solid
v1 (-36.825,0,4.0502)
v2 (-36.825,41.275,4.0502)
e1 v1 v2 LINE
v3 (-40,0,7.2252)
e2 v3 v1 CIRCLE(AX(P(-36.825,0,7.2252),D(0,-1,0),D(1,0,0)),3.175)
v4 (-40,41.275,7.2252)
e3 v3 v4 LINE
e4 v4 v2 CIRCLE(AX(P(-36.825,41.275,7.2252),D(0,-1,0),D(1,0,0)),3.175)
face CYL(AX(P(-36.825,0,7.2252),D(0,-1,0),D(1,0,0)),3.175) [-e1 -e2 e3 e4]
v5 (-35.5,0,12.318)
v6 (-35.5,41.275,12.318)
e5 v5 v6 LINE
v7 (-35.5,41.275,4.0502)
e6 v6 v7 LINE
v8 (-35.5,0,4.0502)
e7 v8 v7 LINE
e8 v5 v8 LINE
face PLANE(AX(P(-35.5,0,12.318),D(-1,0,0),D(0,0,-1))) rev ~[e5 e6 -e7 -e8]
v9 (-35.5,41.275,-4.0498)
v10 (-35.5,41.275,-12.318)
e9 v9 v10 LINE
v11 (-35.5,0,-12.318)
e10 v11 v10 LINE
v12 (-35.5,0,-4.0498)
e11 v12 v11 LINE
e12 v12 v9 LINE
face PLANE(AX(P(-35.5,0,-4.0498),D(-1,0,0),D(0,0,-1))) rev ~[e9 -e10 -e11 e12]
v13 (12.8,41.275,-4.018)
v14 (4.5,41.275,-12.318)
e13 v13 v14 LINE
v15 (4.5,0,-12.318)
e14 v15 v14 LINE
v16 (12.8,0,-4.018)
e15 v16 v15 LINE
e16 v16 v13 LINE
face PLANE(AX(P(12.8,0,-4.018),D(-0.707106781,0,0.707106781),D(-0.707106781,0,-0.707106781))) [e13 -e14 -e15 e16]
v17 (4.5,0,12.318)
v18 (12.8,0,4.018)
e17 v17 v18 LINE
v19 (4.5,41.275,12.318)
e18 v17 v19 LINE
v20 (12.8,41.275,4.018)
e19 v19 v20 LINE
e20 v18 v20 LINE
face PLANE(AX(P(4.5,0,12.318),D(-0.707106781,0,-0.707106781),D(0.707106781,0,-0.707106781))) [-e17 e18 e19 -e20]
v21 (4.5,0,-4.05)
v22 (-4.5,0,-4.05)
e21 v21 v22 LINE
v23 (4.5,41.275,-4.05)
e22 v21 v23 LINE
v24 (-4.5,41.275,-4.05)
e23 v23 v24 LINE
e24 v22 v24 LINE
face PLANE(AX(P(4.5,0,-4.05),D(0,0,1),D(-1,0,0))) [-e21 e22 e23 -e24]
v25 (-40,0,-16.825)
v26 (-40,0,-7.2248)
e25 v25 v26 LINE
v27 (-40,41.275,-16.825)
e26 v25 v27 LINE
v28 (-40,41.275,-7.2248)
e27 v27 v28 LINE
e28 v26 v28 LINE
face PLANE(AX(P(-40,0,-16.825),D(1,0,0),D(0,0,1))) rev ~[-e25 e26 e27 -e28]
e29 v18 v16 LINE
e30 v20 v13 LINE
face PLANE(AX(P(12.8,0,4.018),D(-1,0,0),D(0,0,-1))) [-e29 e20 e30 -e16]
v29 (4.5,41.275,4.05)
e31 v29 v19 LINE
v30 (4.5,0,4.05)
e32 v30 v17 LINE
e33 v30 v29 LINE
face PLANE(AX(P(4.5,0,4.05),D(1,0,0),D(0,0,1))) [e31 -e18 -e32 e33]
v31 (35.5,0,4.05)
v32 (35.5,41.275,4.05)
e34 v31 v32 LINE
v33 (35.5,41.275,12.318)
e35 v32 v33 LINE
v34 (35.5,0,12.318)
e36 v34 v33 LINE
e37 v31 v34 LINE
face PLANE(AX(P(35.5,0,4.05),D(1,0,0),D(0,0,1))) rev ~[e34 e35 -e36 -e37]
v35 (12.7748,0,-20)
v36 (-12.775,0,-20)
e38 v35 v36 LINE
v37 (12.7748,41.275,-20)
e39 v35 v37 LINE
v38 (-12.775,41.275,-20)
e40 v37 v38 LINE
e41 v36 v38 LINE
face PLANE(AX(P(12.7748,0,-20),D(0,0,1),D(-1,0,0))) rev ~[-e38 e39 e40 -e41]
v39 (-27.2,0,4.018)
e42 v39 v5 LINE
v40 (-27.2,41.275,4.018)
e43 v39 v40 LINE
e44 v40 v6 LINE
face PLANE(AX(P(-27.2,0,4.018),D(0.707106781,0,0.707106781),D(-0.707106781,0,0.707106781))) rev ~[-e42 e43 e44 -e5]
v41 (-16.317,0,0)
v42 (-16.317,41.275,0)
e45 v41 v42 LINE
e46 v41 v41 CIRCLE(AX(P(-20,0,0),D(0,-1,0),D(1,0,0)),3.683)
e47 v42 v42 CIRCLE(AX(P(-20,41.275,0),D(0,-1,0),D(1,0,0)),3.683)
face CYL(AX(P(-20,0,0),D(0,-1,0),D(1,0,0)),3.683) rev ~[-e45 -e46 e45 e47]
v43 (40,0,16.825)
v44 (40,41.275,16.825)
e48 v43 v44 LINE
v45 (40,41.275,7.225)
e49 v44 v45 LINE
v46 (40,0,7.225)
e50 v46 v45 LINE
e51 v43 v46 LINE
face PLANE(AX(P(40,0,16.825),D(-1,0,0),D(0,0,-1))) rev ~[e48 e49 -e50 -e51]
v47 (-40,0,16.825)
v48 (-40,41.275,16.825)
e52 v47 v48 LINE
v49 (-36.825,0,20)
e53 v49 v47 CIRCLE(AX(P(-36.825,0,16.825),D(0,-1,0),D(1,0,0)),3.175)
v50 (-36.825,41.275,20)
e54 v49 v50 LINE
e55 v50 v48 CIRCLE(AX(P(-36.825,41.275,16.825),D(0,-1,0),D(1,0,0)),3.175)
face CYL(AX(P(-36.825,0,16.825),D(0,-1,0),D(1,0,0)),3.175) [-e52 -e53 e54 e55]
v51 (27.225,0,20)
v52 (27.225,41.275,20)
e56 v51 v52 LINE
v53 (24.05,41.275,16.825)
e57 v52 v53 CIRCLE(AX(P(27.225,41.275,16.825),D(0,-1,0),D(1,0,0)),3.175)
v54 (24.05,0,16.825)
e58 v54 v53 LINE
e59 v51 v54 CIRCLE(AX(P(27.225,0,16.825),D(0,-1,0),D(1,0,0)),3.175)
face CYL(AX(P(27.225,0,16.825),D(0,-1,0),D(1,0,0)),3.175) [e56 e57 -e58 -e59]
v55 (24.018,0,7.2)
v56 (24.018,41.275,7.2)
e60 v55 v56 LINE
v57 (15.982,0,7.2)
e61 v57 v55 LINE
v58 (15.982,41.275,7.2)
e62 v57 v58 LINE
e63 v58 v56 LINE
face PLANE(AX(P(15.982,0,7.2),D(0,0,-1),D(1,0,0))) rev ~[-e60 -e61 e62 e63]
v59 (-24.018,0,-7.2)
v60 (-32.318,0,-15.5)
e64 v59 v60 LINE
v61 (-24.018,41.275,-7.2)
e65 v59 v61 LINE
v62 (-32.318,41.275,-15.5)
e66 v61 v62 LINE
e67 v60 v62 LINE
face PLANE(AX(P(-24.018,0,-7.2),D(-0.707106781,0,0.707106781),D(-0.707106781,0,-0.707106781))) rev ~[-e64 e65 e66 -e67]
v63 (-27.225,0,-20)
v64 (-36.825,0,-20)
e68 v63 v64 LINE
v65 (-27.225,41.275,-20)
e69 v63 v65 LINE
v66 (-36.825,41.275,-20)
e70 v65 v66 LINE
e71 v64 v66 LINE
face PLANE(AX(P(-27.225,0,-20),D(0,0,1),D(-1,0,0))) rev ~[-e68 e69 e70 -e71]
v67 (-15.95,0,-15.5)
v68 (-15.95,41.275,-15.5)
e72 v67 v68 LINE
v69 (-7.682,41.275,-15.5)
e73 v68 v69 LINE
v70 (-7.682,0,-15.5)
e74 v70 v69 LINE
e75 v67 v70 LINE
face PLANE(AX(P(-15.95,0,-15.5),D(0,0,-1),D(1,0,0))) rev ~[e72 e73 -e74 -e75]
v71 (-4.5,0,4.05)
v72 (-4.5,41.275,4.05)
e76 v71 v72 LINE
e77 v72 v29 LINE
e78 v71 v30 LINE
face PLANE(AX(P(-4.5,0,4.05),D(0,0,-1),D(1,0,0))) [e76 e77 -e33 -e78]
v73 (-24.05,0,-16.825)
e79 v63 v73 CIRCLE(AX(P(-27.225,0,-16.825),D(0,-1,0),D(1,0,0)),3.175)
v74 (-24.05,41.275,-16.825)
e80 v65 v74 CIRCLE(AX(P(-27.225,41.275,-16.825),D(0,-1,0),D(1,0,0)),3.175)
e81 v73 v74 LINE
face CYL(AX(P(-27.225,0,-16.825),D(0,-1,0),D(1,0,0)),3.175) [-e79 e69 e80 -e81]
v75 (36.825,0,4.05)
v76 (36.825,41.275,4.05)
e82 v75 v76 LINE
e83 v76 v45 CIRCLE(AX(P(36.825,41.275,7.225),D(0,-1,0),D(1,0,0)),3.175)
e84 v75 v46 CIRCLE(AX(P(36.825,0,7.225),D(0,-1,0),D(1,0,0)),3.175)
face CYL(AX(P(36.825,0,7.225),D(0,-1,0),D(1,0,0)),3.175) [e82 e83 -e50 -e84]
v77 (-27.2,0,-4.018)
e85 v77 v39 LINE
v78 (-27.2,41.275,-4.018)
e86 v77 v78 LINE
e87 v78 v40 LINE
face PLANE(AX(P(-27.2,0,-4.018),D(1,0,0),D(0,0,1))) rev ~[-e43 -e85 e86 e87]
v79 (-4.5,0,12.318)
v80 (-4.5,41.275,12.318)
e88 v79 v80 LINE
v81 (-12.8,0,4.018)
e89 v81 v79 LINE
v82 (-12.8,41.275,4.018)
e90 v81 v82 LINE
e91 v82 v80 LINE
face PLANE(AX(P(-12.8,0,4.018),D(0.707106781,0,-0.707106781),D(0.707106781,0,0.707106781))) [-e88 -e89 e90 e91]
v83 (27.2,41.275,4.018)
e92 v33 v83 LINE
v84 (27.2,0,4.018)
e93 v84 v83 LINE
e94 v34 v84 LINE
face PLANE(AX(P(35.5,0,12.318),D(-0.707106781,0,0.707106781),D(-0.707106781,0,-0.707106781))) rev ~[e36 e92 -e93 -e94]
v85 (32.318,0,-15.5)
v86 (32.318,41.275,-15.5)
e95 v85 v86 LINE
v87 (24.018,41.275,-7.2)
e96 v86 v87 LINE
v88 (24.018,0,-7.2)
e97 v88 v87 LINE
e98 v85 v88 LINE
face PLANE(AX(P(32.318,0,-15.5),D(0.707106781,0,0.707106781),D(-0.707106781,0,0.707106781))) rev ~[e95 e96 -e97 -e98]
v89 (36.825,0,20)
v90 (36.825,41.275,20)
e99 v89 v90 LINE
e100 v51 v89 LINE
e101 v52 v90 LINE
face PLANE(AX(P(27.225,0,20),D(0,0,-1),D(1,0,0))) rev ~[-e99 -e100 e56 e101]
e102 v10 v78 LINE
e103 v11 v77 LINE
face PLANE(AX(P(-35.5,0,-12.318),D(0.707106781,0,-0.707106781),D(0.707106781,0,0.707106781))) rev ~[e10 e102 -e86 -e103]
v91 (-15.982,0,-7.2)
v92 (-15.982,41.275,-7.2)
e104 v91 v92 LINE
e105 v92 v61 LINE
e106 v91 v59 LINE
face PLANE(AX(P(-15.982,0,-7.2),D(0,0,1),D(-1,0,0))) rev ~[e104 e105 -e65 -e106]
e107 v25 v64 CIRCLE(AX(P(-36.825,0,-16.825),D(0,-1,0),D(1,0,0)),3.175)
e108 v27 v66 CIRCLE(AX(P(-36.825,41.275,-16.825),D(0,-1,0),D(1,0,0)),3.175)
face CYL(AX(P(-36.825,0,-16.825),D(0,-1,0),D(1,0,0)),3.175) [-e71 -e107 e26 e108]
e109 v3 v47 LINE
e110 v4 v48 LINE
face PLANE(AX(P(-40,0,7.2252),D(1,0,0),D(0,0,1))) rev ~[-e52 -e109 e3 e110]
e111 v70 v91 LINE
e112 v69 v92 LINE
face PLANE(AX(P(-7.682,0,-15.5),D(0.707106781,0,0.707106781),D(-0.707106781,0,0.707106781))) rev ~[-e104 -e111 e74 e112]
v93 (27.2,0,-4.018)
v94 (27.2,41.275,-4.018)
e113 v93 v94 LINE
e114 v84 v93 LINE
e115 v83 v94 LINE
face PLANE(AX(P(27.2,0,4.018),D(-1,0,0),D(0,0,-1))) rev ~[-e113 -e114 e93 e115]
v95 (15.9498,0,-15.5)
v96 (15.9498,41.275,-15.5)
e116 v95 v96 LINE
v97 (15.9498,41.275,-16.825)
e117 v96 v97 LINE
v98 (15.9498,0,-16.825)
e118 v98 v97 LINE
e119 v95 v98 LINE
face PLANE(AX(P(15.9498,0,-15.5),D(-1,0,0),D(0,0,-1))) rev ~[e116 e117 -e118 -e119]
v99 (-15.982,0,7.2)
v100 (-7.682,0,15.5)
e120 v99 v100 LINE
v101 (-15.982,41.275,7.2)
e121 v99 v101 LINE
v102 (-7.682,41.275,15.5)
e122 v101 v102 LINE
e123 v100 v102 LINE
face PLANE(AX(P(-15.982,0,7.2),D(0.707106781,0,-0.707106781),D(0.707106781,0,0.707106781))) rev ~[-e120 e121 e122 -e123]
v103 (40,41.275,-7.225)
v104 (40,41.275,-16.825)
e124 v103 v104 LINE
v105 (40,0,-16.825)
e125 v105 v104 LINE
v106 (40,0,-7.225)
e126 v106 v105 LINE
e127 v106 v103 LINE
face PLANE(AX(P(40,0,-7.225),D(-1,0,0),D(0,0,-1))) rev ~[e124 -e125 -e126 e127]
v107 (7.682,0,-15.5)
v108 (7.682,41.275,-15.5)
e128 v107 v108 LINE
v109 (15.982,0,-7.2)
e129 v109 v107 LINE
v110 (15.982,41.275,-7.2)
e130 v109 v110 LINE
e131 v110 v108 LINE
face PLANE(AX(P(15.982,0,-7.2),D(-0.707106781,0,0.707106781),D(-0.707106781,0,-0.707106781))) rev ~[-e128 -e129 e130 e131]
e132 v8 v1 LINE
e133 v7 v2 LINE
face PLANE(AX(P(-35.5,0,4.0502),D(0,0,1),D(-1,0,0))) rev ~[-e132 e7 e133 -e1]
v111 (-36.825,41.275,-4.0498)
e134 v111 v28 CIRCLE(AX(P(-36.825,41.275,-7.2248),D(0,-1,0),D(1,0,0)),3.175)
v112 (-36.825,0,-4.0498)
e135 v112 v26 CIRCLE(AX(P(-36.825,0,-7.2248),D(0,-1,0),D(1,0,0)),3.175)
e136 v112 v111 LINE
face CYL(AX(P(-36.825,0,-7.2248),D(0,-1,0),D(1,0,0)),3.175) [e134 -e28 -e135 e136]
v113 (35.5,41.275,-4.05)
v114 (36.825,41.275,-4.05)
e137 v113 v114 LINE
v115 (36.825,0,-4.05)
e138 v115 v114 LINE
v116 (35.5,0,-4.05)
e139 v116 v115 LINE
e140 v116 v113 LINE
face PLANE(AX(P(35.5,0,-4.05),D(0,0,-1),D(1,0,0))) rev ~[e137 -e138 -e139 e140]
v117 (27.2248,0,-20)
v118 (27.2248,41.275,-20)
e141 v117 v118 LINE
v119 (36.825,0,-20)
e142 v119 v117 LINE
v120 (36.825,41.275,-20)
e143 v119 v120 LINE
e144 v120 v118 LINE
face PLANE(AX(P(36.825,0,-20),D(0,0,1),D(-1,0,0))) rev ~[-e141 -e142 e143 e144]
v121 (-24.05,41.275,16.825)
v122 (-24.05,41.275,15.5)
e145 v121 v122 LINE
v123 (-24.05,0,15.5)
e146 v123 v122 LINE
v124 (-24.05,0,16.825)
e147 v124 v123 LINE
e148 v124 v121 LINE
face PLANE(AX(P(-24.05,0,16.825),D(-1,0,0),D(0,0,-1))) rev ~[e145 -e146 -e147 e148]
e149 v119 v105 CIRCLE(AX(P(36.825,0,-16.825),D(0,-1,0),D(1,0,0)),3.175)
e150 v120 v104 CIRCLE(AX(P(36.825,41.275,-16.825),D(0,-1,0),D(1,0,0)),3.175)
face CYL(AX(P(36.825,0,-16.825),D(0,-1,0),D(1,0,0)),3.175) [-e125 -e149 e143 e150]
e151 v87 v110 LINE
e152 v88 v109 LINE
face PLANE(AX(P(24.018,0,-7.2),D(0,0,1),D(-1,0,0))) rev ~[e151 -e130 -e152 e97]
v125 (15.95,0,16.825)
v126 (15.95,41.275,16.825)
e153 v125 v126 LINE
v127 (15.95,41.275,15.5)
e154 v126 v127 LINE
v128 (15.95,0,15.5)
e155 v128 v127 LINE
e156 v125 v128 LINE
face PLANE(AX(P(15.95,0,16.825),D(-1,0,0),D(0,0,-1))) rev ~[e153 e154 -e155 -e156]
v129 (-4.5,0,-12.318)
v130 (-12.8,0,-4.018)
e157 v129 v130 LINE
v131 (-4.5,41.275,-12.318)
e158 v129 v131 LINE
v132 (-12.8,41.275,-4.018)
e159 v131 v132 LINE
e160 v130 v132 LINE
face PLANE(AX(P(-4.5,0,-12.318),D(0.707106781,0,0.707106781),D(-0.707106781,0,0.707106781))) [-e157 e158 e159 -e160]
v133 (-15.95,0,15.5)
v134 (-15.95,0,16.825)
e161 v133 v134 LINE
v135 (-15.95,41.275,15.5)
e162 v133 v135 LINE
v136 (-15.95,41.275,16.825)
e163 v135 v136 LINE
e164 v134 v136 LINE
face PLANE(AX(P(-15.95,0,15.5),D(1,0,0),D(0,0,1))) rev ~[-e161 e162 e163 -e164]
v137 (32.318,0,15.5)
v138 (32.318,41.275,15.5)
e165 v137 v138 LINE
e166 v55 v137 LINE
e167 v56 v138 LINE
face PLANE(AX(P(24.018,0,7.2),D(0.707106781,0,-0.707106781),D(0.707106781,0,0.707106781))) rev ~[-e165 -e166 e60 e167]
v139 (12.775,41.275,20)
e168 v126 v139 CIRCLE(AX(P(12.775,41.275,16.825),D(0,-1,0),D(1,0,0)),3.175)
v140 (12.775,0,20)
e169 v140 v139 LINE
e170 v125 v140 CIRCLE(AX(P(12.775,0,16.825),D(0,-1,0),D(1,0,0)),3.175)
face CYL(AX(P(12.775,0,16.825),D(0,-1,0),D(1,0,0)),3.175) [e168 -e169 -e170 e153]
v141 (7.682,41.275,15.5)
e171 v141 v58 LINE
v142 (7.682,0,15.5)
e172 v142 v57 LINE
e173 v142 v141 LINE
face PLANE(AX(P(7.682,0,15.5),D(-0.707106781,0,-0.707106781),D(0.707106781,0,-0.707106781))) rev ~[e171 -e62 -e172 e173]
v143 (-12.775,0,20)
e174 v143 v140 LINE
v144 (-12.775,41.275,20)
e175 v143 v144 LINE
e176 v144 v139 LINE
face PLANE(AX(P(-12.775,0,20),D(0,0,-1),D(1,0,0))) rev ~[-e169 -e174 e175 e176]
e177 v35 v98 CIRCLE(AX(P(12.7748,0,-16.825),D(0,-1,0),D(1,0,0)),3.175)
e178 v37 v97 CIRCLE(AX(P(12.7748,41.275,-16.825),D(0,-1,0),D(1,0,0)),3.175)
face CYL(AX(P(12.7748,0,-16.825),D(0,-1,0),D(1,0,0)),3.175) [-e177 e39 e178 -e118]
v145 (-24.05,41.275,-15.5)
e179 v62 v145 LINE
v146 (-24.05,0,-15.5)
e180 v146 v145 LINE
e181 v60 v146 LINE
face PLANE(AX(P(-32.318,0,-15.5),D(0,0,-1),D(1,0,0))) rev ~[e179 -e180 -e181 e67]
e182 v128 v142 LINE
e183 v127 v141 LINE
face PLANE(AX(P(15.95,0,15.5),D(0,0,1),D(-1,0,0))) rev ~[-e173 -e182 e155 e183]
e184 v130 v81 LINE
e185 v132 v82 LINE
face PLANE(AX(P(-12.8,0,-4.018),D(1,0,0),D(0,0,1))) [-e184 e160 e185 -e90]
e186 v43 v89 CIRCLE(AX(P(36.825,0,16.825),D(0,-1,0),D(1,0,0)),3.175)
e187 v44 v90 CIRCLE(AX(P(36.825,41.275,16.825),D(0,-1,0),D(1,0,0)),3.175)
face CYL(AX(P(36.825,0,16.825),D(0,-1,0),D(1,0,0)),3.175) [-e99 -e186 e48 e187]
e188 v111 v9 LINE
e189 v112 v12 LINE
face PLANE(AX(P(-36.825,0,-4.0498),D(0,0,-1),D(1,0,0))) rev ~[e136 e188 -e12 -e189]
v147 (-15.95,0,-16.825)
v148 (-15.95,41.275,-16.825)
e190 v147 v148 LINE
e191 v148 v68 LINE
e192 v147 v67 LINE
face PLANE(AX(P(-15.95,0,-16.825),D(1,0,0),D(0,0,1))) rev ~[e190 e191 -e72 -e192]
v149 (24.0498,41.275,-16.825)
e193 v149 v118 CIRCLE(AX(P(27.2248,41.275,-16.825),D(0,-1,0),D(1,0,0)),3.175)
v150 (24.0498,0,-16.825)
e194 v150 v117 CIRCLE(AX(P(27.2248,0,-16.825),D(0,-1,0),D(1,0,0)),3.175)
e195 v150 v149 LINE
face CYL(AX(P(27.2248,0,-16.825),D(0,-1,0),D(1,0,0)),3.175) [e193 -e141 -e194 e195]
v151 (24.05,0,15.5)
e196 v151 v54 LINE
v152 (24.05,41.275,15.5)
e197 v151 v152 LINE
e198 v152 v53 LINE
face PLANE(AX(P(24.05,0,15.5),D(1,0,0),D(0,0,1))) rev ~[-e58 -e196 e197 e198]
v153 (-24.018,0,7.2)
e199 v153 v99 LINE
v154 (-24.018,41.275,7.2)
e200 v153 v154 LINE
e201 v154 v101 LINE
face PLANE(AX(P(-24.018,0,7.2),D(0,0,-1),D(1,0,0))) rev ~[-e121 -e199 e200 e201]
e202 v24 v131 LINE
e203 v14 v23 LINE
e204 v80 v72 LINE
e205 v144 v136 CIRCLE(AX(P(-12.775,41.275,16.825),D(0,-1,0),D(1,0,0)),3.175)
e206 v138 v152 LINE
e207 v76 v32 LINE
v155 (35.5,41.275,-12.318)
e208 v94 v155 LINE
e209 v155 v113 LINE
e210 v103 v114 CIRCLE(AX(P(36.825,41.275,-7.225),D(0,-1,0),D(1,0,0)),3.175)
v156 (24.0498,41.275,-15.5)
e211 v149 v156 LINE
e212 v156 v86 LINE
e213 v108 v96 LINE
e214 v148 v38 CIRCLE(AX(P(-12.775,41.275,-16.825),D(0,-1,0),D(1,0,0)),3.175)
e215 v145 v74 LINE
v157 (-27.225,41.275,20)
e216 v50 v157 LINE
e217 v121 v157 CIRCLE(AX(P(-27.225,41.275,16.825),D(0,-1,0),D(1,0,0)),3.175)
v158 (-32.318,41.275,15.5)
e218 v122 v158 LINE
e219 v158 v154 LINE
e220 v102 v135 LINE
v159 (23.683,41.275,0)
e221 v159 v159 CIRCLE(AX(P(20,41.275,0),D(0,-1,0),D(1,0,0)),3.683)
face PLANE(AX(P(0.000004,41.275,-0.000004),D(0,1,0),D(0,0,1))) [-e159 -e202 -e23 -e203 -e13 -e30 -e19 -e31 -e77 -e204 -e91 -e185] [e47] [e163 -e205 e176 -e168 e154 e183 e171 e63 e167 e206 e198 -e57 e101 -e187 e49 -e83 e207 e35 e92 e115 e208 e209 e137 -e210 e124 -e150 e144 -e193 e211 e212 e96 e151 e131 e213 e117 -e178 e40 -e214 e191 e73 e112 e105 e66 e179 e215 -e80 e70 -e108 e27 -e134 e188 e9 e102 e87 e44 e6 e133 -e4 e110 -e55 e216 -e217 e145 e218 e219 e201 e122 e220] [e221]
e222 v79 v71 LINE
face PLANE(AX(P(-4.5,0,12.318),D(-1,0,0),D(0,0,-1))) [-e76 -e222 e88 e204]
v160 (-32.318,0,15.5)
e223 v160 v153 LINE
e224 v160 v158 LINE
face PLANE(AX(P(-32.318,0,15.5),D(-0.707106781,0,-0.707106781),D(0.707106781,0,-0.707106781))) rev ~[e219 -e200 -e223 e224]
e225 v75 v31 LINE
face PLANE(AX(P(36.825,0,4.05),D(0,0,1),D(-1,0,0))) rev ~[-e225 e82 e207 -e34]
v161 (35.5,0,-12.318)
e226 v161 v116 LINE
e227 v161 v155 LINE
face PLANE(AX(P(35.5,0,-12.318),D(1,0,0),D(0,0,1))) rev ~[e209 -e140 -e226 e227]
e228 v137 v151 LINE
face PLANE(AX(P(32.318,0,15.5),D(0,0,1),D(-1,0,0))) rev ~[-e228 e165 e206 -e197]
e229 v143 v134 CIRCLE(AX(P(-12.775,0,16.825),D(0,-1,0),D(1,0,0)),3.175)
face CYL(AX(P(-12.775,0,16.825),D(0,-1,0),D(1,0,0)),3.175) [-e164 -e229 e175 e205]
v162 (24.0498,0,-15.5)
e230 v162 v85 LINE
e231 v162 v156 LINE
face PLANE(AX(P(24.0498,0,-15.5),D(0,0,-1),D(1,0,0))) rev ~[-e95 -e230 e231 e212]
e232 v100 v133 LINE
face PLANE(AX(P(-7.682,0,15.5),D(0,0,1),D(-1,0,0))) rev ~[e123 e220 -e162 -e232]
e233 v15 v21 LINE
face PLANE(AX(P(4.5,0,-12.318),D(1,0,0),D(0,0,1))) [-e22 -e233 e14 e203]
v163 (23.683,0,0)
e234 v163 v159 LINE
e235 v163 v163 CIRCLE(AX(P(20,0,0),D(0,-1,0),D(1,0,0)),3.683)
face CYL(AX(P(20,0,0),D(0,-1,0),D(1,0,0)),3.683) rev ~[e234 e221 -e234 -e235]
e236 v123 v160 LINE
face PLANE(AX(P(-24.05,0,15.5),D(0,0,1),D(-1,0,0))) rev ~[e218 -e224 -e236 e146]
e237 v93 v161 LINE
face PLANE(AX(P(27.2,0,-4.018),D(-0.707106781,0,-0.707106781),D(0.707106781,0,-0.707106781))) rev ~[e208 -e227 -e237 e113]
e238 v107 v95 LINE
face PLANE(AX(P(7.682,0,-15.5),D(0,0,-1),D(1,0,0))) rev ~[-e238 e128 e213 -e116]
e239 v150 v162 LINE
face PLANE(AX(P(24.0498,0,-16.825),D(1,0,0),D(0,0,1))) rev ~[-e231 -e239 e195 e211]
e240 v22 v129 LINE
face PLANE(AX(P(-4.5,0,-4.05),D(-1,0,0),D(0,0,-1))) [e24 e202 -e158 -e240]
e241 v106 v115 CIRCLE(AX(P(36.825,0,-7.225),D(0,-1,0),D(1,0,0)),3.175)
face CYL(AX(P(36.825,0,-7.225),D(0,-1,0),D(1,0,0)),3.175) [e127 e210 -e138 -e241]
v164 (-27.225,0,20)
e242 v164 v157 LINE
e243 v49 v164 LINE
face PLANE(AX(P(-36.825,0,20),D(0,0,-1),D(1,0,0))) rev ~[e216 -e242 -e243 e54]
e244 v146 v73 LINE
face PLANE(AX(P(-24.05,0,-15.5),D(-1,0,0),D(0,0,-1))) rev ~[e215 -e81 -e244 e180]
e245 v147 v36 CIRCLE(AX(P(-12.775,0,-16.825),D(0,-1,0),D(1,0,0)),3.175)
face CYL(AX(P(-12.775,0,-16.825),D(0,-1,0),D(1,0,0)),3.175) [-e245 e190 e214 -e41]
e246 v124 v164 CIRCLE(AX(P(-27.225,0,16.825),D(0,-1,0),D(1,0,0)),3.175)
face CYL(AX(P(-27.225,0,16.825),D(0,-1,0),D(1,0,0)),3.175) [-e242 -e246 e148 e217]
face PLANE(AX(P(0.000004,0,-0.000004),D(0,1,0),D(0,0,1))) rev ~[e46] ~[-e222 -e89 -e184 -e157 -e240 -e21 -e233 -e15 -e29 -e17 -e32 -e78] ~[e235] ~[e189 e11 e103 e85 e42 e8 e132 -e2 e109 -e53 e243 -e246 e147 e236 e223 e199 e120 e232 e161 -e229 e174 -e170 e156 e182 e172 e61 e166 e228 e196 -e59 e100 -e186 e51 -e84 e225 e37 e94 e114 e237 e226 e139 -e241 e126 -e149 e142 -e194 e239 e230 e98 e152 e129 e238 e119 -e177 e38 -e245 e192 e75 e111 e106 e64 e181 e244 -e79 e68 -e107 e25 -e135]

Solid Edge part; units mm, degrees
sketch "Sketch1" plane through (0, 0, 0) normal (0, -1, 0) x (1, 0, 0)
  line L0 (-24.05, 16.825) -> (-24.05, 15.5)
  line L1 (-24.05, 15.5) -> (-32.318, 15.5)
  line L2 (-32.318, 15.5) -> (-24.018, 7.2)
  line L3 (-24.018, 7.2) -> (-15.982, 7.2)
  line L4 (-15.982, 7.2) -> (-7.682, 15.5)
  line L5 (-7.682, 15.5) -> (-15.95, 15.5)
  line L6 (-15.95, 15.5) -> (-15.95, 16.825)
  arc A0 (-12.775, 20) -> (-15.95, 16.825) centre (-12.775, 16.825) ccw
  line L7 (-12.775, 20) -> (12.775, 20)
  arc A1 (15.95, 16.825) -> (12.775, 20) centre (12.775, 16.825) ccw
  line L8 (15.95, 16.825) -> (15.95, 15.5)
  line L9 (15.95, 15.5) -> (7.682, 15.5)
  line L10 (7.682, 15.5) -> (15.982, 7.2)
  line L11 (15.982, 7.2) -> (24.018, 7.2)
  line L12 (24.018, 7.2) -> (32.318, 15.5)
  line L13 (32.318, 15.5) -> (24.05, 15.5)
  line L14 (24.05, 15.5) -> (24.05, 16.825)
  arc A2 (27.225, 20) -> (24.05, 16.825) centre (27.225, 16.825) ccw
  line L15 (27.225, 20) -> (36.825, 20)
  arc A3 (40, 16.825) -> (36.825, 20) centre (36.825, 16.825) ccw
  line L16 (40, 16.825) -> (40, 7.225)
  arc A4 (36.825, 4.05) -> (40, 7.225) centre (36.825, 7.225) ccw
  line L17 (36.825, 4.05) -> (35.5, 4.05)
  line L18 (35.5, 4.05) -> (35.5, 12.318)
  line L19 (35.5, 12.318) -> (27.2, 4.018)
  line L20 (27.2, 4.018) -> (27.2, -4.018)
  line L21 (27.2, -4.018) -> (35.5, -12.318)
  line L22 (35.5, -12.318) -> (35.5, -4.05)
  line L23 (35.5, -4.05) -> (36.825, -4.05)
  arc A5 (40, -7.225) -> (36.825, -4.05) centre (36.825, -7.225) ccw
  line L24 (40, -7.225) -> (40, -16.825)
  arc A6 (36.825, -20) -> (40, -16.825) centre (36.825, -16.825) ccw
  line L25 (36.825, -20) -> (27.2248, -20)
  arc A7 (24.0498, -16.825) -> (27.2248, -20) centre (27.2248, -16.825) ccw
  line L26 (24.0498, -16.825) -> (24.0498, -15.5)
  line L27 (24.0498, -15.5) -> (32.318, -15.5)
  line L28 (32.318, -15.5) -> (24.018, -7.2)
  line L29 (24.018, -7.2) -> (15.982, -7.2)
  line L30 (15.982, -7.2) -> (7.682, -15.5)
  line L31 (7.682, -15.5) -> (15.9498, -15.5)
  line L32 (15.9498, -15.5) -> (15.9498, -16.825)
  arc A8 (12.7748, -20) -> (15.9498, -16.825) centre (12.7748, -16.825) ccw
  line L33 (12.7748, -20) -> (-12.775, -20)
  arc A9 (-15.95, -16.825) -> (-12.775, -20) centre (-12.775, -16.825) ccw
  line L34 (-15.95, -16.825) -> (-15.95, -15.5)
  line L35 (-15.95, -15.5) -> (-7.682, -15.5)
  line L36 (-7.682, -15.5) -> (-15.982, -7.2)
  line L37 (-15.982, -7.2) -> (-24.018, -7.2)
  line L38 (-24.018, -7.2) -> (-32.318, -15.5)
  line L39 (-32.318, -15.5) -> (-24.05, -15.5)
  line L40 (-24.05, -15.5) -> (-24.05, -16.825)
  arc A10 (-27.225, -20) -> (-24.05, -16.825) centre (-27.225, -16.825) ccw
  line L41 (-27.225, -20) -> (-36.825, -20)
  arc A11 (-40, -16.825) -> (-36.825, -20) centre (-36.825, -16.825) ccw
  line L42 (-40, -16.825) -> (-40, -7.2248)
  arc A12 (-36.825, -4.0498) -> (-40, -7.2248) centre (-36.825, -7.2248) ccw
  line L43 (-36.825, -4.0498) -> (-35.5, -4.0498)
  line L44 (-35.5, -4.0498) -> (-35.5, -12.318)
  line L45 (-35.5, -12.318) -> (-27.2, -4.018)
  line L46 (-27.2, -4.018) -> (-27.2, 4.018)
  line L47 (-27.2, 4.018) -> (-35.5, 12.318)
  line L48 (-35.5, 12.318) -> (-35.5, 4.0502)
  line L49 (-35.5, 4.0502) -> (-36.825, 4.0502)
  arc A13 (-40, 7.2252) -> (-36.825, 4.0502) centre (-36.825, 7.2252) ccw
  line L50 (-40, 7.2252) -> (-40, 16.825)
  arc A14 (-36.825, 20) -> (-40, 16.825) centre (-36.825, 16.825) ccw
  line L51 (-36.825, 20) -> (-27.225, 20)
  arc A15 (-24.05, 16.825) -> (-27.225, 20) centre (-27.225, 16.825) ccw
  circle A16 centre (-20, 0) radius 3.683
  circle A17 centre (20, 0) radius 3.683
  line L52 (-4.5, 4.05) -> (4.5, 4.05)
  line L53 (4.5, 4.05) -> (4.5, 12.318)
  line L54 (4.5, 12.318) -> (12.8, 4.018)
  line L55 (12.8, 4.018) -> (12.8, -4.018)
  line L56 (12.8, -4.018) -> (4.5, -12.318)
  line L57 (4.5, -12.318) -> (4.5, -4.05)
  line L58 (4.5, -4.05) -> (-4.5, -4.05)
  line L59 (-4.5, -4.05) -> (-4.5, -12.318)
  line L60 (-4.5, -12.318) -> (-12.8, -4.018)
  line L61 (-12.8, -4.018) -> (-12.8, 4.018)
  line L62 (-12.8, 4.018) -> (-4.5, 12.318)
  line L63 (-4.5, 12.318) -> (-4.5, 4.05)
extrude "Protrusion1" add sketch "Sketch1" against normal blind 41.275
